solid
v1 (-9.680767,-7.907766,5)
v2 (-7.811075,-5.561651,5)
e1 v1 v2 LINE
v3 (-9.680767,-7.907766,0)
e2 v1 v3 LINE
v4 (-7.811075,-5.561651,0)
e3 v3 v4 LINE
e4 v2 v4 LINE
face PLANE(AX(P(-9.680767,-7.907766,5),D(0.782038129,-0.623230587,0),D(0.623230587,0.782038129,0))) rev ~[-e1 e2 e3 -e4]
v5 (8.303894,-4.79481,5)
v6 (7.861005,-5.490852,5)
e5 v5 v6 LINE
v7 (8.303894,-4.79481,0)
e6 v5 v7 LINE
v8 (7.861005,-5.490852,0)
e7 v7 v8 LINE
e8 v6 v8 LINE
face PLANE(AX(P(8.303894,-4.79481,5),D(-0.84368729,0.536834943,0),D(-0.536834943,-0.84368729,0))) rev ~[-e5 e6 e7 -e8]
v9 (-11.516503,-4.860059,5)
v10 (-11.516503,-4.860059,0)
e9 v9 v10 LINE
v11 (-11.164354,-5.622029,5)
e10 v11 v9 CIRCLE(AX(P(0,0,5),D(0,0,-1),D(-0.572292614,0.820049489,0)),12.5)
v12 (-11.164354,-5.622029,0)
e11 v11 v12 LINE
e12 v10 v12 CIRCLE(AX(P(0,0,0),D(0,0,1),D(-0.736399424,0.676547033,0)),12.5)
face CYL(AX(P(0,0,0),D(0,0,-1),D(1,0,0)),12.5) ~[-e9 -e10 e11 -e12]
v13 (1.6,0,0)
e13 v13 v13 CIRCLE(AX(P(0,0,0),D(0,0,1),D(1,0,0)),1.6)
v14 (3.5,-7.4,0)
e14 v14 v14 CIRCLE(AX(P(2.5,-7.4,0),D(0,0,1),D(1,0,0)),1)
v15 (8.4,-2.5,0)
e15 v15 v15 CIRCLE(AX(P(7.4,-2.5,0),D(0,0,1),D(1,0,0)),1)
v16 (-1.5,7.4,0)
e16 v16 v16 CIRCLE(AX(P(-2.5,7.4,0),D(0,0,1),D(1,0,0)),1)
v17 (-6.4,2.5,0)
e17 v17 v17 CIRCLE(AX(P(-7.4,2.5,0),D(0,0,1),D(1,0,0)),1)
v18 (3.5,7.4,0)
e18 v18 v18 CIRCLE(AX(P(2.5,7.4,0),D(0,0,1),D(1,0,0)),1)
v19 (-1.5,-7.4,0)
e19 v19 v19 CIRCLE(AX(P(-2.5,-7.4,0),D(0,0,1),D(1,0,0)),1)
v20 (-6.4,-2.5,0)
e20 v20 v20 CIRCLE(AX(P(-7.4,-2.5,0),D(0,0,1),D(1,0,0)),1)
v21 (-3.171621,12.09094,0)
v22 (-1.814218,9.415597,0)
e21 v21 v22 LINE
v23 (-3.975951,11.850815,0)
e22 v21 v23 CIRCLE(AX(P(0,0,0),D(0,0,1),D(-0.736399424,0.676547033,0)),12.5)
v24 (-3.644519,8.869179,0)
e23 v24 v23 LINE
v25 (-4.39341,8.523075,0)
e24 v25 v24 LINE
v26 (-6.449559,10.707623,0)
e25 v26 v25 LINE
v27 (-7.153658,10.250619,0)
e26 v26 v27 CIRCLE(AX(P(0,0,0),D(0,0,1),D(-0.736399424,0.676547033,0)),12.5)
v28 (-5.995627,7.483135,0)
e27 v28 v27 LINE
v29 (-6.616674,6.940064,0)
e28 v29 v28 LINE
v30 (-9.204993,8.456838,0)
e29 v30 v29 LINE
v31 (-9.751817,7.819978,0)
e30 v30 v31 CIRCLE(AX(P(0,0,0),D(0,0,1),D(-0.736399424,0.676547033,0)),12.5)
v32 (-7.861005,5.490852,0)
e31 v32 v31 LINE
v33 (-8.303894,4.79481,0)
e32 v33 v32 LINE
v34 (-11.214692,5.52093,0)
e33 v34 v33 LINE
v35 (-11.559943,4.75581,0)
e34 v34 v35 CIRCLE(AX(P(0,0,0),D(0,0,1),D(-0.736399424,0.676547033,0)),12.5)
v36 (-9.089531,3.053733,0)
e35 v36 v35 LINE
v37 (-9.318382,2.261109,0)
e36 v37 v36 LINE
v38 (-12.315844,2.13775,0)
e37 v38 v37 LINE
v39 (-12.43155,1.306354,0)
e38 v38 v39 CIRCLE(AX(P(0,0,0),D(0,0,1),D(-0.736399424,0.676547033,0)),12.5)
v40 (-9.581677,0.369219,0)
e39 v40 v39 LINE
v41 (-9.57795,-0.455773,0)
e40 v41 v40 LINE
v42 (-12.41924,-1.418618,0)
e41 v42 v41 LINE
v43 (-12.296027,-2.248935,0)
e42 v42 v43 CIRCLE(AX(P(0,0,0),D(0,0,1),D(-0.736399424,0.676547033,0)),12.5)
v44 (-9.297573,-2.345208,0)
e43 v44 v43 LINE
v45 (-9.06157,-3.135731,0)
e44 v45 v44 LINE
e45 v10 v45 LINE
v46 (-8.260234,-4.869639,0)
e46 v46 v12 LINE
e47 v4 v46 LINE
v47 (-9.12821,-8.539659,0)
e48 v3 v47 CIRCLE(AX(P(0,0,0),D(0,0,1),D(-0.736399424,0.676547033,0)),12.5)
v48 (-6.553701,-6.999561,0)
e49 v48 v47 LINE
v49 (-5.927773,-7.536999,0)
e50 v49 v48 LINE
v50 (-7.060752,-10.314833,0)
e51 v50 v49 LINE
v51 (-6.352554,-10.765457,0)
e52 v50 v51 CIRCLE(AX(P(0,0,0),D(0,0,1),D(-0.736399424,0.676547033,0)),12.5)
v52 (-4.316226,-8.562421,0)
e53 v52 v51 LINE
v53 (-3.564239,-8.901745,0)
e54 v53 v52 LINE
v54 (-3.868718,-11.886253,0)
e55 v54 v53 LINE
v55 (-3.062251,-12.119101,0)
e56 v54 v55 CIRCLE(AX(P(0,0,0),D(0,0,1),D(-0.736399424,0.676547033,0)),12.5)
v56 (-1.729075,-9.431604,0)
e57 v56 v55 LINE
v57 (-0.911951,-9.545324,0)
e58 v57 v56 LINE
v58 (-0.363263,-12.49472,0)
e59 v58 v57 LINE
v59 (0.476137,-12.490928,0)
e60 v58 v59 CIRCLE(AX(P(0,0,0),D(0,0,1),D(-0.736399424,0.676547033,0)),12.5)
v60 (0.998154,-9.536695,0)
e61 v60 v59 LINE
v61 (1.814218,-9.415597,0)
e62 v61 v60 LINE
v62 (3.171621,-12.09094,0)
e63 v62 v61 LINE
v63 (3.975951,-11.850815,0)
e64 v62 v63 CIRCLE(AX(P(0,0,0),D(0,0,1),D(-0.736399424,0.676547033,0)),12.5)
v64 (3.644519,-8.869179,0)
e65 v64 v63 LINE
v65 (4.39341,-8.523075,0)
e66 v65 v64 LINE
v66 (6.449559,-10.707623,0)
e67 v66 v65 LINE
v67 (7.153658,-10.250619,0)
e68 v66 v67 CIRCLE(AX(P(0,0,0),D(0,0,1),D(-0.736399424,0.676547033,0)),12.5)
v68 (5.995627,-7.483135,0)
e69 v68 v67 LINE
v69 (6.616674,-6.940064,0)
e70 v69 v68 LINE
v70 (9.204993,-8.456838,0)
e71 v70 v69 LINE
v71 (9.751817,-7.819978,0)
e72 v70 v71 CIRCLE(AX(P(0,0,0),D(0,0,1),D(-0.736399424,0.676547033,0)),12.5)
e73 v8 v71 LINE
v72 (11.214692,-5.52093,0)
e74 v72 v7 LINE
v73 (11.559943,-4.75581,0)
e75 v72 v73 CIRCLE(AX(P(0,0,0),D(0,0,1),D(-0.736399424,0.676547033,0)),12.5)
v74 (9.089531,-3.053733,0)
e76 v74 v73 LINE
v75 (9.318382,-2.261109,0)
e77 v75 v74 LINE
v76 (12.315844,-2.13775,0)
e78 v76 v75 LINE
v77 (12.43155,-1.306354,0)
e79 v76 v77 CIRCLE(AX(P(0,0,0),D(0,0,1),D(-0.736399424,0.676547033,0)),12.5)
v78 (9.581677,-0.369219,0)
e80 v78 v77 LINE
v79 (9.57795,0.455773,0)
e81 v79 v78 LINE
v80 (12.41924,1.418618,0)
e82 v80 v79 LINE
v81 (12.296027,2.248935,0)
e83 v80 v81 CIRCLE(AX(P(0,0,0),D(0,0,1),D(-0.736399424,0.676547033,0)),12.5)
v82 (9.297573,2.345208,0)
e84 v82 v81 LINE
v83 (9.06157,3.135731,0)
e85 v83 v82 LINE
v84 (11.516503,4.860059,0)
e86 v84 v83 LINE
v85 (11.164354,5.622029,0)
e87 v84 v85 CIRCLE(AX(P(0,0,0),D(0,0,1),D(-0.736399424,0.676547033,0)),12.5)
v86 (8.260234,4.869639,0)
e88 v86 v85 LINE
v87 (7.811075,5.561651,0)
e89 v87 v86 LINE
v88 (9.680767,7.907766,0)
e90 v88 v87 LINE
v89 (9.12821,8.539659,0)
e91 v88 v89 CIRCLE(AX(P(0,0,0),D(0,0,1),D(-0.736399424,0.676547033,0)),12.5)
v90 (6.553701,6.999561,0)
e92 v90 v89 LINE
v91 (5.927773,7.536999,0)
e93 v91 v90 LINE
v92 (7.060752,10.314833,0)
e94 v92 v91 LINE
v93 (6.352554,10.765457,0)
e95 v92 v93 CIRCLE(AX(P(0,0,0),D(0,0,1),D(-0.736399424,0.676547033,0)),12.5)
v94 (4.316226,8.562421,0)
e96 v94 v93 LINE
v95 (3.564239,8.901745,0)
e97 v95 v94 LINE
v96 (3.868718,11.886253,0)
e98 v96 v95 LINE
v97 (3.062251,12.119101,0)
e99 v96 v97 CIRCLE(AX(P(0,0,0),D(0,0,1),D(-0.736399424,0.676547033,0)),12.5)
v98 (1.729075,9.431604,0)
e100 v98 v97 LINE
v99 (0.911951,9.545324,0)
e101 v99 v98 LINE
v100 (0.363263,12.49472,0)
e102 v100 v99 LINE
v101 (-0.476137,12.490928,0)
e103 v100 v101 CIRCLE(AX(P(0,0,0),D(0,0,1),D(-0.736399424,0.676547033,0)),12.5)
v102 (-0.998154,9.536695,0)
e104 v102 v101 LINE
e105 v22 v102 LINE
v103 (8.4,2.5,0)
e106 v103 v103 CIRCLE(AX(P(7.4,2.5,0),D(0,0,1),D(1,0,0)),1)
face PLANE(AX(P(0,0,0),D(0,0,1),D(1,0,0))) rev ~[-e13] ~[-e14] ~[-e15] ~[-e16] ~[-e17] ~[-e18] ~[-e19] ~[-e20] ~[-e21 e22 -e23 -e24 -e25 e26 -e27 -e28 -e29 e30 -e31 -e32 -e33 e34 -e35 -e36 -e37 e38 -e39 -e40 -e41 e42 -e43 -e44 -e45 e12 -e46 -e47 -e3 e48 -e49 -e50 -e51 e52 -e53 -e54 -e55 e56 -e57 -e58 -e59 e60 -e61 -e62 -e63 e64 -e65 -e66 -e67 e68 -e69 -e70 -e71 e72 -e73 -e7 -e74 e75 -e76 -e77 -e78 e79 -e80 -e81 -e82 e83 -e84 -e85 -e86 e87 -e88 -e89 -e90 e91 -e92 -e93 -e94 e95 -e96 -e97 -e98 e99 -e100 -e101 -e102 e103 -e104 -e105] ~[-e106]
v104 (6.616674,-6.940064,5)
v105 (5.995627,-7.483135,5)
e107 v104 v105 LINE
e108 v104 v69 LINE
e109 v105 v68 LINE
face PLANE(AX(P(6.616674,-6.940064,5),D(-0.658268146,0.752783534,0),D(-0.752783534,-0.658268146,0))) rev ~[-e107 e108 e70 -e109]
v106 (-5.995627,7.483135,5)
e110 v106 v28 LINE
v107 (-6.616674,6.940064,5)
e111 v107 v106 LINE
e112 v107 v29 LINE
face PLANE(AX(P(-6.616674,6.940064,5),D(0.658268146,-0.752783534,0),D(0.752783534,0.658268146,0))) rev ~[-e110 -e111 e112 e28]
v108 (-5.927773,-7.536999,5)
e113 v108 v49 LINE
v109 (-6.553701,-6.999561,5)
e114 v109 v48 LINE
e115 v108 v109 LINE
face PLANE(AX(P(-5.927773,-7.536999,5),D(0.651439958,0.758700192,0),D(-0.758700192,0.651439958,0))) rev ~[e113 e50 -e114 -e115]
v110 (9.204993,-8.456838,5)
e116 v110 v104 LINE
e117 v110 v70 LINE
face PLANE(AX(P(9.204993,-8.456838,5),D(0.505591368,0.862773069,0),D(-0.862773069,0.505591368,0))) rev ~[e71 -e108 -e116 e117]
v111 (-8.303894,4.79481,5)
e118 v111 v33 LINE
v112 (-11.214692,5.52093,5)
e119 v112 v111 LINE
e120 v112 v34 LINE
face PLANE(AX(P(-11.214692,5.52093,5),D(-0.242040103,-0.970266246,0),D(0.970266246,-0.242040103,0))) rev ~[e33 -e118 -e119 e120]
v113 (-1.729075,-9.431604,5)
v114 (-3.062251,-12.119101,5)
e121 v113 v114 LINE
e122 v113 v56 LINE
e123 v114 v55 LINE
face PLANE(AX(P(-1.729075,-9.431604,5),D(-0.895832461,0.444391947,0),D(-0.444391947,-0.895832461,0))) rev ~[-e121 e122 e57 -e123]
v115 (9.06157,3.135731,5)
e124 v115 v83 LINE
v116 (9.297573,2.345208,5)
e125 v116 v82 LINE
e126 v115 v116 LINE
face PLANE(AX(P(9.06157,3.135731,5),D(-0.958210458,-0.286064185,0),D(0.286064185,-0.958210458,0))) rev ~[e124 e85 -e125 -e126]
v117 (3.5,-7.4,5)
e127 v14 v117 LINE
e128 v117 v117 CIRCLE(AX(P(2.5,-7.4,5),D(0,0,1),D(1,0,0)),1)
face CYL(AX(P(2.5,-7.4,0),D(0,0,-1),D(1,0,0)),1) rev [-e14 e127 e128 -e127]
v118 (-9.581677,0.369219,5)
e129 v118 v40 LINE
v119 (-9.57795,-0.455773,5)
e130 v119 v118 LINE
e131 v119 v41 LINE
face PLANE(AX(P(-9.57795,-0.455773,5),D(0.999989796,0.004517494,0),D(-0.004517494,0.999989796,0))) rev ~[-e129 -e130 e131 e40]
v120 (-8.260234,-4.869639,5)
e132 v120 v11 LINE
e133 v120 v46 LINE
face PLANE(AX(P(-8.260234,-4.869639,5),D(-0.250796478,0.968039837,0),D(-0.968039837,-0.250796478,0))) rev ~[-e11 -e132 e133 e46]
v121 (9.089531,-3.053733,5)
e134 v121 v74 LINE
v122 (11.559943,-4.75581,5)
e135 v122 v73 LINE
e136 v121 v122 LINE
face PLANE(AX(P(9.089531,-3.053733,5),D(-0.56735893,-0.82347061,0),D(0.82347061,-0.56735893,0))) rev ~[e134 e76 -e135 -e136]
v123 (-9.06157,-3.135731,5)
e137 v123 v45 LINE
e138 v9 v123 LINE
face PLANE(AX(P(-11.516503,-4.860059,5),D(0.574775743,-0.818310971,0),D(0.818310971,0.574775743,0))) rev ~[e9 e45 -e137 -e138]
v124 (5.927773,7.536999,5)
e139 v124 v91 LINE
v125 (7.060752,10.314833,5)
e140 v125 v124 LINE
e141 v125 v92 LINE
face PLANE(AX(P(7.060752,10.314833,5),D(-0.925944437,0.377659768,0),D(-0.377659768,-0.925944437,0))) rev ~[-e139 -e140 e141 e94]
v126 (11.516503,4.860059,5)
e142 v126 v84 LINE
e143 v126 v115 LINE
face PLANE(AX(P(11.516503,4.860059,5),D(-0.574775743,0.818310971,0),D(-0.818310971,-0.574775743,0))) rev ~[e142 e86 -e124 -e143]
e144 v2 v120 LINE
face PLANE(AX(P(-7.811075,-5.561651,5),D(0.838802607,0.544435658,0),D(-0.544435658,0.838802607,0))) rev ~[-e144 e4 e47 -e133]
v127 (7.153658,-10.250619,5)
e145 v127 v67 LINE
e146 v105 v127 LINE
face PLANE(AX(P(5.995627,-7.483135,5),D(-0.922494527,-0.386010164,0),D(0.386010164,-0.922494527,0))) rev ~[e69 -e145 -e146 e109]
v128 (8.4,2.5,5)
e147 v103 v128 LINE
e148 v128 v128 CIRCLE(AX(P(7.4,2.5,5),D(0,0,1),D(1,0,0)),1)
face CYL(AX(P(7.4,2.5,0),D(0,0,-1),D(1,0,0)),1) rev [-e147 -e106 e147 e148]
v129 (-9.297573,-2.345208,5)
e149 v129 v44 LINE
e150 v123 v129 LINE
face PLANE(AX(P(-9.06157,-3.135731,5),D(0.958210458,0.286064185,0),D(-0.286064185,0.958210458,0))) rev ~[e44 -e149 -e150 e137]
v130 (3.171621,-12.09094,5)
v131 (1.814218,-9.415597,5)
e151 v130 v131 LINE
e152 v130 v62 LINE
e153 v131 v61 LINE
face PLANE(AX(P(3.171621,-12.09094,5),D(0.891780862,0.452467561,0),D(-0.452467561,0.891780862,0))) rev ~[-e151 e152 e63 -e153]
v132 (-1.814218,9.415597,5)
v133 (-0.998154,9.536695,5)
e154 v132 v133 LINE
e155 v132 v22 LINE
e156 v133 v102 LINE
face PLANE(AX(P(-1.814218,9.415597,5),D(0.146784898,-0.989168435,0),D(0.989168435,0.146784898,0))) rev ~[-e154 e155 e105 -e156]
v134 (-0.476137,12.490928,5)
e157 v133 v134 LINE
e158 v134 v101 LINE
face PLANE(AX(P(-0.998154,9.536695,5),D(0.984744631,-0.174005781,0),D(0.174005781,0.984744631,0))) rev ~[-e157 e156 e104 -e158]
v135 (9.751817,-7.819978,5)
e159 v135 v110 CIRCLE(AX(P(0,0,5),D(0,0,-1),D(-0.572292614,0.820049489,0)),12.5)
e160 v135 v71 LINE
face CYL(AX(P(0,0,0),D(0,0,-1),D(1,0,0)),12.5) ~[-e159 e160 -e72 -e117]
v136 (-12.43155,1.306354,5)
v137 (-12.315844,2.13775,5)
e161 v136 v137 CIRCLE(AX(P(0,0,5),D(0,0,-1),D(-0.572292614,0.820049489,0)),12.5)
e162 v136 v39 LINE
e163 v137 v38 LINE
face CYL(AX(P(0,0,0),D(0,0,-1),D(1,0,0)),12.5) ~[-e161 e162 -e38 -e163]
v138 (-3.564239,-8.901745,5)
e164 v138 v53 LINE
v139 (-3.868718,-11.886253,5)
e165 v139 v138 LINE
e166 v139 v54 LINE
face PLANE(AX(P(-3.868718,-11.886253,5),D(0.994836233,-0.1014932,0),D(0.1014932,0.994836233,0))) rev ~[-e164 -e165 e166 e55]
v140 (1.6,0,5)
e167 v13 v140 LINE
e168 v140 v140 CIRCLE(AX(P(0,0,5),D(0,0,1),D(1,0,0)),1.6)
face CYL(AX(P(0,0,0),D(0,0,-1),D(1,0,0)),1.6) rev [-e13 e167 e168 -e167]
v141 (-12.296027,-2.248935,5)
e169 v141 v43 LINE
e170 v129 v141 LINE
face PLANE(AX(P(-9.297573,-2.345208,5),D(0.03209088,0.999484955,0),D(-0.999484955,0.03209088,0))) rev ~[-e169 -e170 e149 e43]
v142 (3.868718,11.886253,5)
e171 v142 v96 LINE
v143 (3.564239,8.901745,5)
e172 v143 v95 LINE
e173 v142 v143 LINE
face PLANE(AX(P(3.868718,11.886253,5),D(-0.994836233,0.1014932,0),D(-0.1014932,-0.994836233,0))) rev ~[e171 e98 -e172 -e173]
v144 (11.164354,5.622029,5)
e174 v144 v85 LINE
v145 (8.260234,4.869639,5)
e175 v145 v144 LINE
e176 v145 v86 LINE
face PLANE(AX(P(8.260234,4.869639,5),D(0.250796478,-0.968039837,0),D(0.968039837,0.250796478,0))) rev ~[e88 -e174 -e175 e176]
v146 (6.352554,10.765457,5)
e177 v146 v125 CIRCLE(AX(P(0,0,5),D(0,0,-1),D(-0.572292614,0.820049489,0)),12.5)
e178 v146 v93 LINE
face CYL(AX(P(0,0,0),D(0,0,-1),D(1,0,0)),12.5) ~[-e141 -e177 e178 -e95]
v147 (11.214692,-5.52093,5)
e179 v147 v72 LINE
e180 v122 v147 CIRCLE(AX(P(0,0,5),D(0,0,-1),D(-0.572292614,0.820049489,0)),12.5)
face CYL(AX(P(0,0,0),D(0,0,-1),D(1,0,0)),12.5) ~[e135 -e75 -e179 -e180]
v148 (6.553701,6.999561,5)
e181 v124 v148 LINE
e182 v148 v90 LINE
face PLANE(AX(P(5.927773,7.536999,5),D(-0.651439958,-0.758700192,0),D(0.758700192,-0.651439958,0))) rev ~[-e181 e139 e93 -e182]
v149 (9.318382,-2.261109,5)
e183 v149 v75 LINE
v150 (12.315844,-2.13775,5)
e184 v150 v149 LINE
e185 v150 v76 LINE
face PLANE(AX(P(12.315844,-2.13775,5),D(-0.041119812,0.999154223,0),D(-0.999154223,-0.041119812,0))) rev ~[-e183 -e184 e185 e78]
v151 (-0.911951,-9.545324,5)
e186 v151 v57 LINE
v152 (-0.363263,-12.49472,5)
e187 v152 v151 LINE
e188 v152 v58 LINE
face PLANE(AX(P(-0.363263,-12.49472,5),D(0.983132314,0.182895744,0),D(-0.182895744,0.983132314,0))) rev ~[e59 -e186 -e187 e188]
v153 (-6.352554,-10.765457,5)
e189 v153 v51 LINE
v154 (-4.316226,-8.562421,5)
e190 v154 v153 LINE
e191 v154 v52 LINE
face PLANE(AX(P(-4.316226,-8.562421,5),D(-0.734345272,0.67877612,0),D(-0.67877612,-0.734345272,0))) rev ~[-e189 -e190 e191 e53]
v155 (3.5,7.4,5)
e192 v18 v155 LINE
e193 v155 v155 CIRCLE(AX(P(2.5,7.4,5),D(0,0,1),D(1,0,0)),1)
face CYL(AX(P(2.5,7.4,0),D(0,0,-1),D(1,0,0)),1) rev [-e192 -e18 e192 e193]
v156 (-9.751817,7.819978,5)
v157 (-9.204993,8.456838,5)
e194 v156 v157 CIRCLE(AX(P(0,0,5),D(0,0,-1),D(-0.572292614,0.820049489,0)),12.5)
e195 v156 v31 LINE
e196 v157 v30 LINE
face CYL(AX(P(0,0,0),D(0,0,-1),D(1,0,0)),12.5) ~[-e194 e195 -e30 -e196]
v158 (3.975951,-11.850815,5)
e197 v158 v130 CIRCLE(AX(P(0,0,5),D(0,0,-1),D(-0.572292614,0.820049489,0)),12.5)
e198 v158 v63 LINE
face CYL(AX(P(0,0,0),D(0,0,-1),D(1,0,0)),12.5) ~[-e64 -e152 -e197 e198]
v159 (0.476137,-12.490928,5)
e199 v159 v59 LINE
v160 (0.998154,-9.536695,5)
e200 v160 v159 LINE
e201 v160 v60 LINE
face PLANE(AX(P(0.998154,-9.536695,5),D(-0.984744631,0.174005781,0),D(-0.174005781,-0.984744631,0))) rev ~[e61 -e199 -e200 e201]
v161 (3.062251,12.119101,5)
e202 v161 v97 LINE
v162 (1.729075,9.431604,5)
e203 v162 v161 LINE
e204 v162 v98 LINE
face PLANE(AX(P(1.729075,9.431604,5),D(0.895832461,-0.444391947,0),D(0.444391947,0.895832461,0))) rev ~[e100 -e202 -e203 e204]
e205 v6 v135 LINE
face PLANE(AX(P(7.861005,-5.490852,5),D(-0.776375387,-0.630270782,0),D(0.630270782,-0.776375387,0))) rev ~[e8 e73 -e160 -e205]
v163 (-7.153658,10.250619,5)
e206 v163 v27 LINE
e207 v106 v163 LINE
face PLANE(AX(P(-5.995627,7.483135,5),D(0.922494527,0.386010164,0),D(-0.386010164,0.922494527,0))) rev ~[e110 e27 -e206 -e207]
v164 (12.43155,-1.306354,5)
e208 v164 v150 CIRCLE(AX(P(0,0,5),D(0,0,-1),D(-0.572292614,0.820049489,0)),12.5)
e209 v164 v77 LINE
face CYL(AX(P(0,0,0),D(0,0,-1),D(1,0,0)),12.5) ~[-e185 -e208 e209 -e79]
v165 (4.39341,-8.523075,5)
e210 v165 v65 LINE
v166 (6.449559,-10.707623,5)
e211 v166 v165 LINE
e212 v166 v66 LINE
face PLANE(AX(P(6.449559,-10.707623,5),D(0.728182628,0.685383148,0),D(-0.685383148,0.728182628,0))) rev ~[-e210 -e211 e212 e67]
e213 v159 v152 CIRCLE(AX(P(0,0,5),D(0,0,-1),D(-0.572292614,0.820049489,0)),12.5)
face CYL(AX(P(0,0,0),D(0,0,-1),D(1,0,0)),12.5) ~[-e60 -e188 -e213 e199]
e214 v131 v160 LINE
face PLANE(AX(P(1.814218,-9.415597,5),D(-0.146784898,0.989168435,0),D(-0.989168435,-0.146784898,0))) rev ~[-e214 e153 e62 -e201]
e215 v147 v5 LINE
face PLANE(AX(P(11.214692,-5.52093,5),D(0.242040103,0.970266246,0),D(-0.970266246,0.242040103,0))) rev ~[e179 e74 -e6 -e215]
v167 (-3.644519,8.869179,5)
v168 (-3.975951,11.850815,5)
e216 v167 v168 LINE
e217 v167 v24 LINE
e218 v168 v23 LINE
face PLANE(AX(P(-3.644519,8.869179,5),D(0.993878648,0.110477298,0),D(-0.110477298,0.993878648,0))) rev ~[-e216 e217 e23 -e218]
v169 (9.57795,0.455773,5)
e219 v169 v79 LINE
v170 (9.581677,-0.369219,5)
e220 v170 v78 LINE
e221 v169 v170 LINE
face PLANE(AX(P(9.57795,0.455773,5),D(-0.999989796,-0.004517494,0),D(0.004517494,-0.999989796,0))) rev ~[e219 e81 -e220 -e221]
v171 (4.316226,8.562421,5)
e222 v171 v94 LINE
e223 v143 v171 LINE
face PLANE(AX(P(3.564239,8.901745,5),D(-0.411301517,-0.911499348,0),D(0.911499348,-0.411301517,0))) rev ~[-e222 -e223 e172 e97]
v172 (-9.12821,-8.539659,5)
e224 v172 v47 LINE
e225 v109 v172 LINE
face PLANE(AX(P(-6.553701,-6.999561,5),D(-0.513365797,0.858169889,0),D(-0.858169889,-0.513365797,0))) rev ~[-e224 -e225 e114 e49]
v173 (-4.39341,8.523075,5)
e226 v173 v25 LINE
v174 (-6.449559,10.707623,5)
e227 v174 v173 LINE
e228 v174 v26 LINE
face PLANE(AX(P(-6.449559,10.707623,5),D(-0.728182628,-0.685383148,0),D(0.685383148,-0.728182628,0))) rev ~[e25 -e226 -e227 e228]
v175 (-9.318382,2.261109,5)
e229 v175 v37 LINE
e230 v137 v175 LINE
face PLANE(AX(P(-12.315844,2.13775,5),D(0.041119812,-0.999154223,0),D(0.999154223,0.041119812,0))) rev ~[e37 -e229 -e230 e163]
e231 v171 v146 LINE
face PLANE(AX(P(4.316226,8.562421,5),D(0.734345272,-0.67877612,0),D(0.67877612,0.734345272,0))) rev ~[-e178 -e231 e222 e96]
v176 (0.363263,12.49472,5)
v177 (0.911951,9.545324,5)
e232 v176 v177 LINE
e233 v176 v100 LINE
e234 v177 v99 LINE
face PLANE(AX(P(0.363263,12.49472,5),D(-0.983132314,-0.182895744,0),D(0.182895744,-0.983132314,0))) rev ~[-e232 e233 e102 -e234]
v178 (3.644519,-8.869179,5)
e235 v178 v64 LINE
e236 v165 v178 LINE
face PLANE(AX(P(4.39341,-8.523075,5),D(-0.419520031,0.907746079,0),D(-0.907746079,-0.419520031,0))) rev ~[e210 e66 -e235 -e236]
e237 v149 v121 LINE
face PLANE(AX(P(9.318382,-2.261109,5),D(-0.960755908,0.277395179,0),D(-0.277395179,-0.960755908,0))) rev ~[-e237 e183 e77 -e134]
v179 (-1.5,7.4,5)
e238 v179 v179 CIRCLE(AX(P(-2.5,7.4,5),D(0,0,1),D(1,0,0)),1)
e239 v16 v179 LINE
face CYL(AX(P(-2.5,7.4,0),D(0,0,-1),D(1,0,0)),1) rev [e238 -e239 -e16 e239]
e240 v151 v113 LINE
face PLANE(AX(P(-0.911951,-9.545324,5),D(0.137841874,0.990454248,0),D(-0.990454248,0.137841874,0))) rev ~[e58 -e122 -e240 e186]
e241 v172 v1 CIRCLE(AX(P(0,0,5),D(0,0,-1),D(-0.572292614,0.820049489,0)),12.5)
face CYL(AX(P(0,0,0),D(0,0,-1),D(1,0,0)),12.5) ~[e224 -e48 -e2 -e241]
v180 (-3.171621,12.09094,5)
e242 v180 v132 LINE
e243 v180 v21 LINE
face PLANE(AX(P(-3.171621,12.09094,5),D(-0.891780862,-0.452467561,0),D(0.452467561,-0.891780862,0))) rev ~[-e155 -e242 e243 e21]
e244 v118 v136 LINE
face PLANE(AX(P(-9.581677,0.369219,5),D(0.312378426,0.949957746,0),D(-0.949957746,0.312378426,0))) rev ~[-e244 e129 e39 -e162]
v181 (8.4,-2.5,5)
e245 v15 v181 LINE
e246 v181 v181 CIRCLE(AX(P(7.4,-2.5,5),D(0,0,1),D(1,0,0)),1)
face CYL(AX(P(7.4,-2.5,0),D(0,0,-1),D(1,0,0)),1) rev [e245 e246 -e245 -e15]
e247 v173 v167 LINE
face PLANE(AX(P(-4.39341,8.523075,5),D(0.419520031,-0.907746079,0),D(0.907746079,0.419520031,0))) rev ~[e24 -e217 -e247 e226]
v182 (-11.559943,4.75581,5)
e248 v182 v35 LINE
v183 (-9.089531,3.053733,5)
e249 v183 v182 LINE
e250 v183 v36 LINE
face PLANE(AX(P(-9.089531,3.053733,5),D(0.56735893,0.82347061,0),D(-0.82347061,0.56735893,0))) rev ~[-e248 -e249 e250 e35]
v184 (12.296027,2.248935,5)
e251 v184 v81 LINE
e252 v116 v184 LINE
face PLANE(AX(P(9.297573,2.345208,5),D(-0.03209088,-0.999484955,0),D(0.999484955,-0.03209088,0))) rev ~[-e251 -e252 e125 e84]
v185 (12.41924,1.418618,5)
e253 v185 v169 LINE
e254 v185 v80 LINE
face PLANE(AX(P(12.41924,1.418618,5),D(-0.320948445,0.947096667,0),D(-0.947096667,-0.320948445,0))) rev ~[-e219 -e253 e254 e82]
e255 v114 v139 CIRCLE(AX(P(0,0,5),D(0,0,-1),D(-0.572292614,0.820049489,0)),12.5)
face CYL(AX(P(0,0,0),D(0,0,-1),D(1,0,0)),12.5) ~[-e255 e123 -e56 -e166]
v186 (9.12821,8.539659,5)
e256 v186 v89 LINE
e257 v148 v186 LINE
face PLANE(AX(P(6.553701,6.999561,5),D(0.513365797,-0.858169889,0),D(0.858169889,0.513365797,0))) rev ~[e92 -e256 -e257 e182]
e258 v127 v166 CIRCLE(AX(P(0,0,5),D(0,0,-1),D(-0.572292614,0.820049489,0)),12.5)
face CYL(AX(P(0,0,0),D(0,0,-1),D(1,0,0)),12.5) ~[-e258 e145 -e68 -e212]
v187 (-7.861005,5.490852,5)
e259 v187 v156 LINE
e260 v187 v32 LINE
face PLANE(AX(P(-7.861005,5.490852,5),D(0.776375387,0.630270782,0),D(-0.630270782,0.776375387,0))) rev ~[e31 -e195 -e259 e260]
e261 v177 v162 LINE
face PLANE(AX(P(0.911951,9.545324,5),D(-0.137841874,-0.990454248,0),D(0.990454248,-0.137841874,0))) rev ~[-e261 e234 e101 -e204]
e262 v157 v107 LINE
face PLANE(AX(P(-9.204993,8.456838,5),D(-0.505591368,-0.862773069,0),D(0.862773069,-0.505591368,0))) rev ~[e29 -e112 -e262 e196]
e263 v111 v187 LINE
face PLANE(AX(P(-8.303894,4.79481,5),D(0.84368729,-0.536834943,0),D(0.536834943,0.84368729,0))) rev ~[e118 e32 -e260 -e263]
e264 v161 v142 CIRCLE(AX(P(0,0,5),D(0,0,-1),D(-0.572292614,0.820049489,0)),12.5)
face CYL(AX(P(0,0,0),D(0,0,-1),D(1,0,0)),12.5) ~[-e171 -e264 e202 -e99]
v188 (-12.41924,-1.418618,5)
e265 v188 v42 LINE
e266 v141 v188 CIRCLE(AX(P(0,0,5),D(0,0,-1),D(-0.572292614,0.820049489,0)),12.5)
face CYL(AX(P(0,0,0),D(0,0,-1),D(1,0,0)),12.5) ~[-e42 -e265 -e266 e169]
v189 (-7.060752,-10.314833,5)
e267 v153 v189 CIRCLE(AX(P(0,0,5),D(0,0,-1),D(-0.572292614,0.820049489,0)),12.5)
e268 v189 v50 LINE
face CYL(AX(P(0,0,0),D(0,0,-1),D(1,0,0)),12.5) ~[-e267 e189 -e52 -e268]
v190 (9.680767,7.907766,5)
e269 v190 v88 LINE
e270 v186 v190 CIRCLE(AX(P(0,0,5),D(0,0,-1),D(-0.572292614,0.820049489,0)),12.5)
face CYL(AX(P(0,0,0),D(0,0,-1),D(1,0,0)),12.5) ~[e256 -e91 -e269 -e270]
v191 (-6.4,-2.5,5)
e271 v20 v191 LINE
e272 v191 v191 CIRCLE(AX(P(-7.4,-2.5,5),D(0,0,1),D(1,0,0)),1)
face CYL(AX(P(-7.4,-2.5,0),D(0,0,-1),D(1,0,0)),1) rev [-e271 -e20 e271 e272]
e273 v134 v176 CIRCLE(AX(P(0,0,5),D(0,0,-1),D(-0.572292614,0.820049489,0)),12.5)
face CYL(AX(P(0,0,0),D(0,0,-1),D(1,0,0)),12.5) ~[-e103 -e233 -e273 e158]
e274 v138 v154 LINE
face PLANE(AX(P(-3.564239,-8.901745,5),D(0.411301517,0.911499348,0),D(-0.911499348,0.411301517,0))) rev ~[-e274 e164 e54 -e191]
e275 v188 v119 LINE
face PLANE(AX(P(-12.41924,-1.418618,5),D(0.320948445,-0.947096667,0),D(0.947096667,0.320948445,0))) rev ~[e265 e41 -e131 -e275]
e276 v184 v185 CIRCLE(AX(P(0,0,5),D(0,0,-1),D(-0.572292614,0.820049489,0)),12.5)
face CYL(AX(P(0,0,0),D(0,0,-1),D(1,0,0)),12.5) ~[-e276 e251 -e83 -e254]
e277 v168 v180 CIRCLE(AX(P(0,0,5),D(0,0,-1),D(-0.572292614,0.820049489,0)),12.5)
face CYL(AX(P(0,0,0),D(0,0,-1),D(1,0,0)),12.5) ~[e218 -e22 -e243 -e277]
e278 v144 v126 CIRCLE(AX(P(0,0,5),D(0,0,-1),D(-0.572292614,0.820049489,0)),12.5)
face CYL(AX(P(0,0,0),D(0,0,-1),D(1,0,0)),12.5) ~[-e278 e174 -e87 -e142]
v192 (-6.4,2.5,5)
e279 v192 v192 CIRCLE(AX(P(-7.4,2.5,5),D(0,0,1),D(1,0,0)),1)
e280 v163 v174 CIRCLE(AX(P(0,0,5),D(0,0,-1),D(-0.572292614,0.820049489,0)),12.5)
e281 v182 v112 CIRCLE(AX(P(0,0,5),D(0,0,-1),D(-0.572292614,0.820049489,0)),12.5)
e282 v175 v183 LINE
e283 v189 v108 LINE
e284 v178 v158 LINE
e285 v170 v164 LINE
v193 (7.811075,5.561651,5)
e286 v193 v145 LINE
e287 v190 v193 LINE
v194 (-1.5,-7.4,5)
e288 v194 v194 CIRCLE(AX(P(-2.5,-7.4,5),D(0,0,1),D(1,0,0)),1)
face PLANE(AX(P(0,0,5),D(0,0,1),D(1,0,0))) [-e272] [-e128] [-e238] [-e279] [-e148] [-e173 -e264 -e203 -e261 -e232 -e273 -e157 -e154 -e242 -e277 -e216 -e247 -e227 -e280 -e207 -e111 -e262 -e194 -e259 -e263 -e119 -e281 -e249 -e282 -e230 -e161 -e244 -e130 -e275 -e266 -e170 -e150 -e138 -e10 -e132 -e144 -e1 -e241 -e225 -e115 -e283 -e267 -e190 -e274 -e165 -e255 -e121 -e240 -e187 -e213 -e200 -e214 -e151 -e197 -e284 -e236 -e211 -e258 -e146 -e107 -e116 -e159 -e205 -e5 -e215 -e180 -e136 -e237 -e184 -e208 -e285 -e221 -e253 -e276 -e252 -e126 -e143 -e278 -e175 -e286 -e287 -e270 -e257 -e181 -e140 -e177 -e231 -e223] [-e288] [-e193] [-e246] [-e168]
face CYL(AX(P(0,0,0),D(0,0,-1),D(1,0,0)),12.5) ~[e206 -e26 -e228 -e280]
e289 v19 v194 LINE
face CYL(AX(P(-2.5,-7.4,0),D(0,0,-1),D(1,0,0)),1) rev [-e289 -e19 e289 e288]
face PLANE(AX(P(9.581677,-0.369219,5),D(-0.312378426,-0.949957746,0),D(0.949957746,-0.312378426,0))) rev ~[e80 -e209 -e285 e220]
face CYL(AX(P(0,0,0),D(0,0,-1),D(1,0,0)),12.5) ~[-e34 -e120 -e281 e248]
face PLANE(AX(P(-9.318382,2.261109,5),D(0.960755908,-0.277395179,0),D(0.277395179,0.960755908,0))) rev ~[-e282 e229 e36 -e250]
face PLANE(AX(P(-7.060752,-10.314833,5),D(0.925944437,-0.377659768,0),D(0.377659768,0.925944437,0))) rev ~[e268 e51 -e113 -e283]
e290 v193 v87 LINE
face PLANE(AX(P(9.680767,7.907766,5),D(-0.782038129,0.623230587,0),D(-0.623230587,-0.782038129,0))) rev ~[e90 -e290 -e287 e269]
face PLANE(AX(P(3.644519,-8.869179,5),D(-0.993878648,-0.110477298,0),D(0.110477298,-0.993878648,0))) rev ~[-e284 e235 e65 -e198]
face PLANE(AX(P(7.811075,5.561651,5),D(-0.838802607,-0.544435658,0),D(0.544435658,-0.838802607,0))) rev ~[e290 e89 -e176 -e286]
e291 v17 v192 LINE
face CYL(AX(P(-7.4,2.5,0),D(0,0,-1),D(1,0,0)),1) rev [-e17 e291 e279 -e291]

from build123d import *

# Parameters (mm, degrees)
SKETCH1_R           = 12.5
SKETCH1_R_2         = 1.6
SKETCH1_R_3         = 1
BOSS_EXTRUDE1_DEPTH = 5
CUT_EXTRUDE1_DEPTH  = 6
CIRPATTERN1_COUNT   = 22


with BuildPart() as part:
    # Sketch1 → Boss-Extrude1 (new body)
    with BuildSketch(Plane.XY):
        Circle(SKETCH1_R)
        Circle(SKETCH1_R_2, mode=Mode.SUBTRACT)
        with Locations((-2.5, 7.4)):
            Circle(SKETCH1_R_3, mode=Mode.SUBTRACT)
        with Locations((2.5, 7.4)):
            Circle(SKETCH1_R_3, mode=Mode.SUBTRACT)
        with Locations((2.5, -7.4)):
            Circle(SKETCH1_R_3, mode=Mode.SUBTRACT)
        with Locations((-2.5, -7.4)):
            Circle(SKETCH1_R_3, mode=Mode.SUBTRACT)
        with Locations((7.4, -2.5)):
            Circle(SKETCH1_R_3, mode=Mode.SUBTRACT)
        with Locations((7.4, 2.5)):
            Circle(SKETCH1_R_3, mode=Mode.SUBTRACT)
        with Locations((-7.4, 2.5)):
            Circle(SKETCH1_R_3, mode=Mode.SUBTRACT)
        with Locations((-7.4, -2.5)):
            Circle(SKETCH1_R_3, mode=Mode.SUBTRACT)
    extrude(amount=BOSS_EXTRUDE1_DEPTH)

    # Sketch2 → Cut-Extrude1 (cut, through all)
    with BuildSketch(Plane.XY.offset(5)):
        Polygon((-9.204992805, 8.456837911), (-6.616673599, 6.940063806), (-5.995627184, 7.483135026), (-7.153657676, 10.250618608), (-7.456074993, 10.596457577), (-9.507410122, 8.80267688), align=None)
    cut_extrude1 = extrude(amount=-CUT_EXTRUDE1_DEPTH, mode=Mode.SUBTRACT)

    # CirPattern1: Cut-Extrude1 ×22 about axis
    cirpattern1_axis = Axis((0, 0, 0), (0, 0, 1))
    for i in range(1, CIRPATTERN1_COUNT):
        add(cut_extrude1.rotate(cirpattern1_axis, i * 360 / CIRPATTERN1_COUNT), mode=Mode.SUBTRACT)


solid = part.part
